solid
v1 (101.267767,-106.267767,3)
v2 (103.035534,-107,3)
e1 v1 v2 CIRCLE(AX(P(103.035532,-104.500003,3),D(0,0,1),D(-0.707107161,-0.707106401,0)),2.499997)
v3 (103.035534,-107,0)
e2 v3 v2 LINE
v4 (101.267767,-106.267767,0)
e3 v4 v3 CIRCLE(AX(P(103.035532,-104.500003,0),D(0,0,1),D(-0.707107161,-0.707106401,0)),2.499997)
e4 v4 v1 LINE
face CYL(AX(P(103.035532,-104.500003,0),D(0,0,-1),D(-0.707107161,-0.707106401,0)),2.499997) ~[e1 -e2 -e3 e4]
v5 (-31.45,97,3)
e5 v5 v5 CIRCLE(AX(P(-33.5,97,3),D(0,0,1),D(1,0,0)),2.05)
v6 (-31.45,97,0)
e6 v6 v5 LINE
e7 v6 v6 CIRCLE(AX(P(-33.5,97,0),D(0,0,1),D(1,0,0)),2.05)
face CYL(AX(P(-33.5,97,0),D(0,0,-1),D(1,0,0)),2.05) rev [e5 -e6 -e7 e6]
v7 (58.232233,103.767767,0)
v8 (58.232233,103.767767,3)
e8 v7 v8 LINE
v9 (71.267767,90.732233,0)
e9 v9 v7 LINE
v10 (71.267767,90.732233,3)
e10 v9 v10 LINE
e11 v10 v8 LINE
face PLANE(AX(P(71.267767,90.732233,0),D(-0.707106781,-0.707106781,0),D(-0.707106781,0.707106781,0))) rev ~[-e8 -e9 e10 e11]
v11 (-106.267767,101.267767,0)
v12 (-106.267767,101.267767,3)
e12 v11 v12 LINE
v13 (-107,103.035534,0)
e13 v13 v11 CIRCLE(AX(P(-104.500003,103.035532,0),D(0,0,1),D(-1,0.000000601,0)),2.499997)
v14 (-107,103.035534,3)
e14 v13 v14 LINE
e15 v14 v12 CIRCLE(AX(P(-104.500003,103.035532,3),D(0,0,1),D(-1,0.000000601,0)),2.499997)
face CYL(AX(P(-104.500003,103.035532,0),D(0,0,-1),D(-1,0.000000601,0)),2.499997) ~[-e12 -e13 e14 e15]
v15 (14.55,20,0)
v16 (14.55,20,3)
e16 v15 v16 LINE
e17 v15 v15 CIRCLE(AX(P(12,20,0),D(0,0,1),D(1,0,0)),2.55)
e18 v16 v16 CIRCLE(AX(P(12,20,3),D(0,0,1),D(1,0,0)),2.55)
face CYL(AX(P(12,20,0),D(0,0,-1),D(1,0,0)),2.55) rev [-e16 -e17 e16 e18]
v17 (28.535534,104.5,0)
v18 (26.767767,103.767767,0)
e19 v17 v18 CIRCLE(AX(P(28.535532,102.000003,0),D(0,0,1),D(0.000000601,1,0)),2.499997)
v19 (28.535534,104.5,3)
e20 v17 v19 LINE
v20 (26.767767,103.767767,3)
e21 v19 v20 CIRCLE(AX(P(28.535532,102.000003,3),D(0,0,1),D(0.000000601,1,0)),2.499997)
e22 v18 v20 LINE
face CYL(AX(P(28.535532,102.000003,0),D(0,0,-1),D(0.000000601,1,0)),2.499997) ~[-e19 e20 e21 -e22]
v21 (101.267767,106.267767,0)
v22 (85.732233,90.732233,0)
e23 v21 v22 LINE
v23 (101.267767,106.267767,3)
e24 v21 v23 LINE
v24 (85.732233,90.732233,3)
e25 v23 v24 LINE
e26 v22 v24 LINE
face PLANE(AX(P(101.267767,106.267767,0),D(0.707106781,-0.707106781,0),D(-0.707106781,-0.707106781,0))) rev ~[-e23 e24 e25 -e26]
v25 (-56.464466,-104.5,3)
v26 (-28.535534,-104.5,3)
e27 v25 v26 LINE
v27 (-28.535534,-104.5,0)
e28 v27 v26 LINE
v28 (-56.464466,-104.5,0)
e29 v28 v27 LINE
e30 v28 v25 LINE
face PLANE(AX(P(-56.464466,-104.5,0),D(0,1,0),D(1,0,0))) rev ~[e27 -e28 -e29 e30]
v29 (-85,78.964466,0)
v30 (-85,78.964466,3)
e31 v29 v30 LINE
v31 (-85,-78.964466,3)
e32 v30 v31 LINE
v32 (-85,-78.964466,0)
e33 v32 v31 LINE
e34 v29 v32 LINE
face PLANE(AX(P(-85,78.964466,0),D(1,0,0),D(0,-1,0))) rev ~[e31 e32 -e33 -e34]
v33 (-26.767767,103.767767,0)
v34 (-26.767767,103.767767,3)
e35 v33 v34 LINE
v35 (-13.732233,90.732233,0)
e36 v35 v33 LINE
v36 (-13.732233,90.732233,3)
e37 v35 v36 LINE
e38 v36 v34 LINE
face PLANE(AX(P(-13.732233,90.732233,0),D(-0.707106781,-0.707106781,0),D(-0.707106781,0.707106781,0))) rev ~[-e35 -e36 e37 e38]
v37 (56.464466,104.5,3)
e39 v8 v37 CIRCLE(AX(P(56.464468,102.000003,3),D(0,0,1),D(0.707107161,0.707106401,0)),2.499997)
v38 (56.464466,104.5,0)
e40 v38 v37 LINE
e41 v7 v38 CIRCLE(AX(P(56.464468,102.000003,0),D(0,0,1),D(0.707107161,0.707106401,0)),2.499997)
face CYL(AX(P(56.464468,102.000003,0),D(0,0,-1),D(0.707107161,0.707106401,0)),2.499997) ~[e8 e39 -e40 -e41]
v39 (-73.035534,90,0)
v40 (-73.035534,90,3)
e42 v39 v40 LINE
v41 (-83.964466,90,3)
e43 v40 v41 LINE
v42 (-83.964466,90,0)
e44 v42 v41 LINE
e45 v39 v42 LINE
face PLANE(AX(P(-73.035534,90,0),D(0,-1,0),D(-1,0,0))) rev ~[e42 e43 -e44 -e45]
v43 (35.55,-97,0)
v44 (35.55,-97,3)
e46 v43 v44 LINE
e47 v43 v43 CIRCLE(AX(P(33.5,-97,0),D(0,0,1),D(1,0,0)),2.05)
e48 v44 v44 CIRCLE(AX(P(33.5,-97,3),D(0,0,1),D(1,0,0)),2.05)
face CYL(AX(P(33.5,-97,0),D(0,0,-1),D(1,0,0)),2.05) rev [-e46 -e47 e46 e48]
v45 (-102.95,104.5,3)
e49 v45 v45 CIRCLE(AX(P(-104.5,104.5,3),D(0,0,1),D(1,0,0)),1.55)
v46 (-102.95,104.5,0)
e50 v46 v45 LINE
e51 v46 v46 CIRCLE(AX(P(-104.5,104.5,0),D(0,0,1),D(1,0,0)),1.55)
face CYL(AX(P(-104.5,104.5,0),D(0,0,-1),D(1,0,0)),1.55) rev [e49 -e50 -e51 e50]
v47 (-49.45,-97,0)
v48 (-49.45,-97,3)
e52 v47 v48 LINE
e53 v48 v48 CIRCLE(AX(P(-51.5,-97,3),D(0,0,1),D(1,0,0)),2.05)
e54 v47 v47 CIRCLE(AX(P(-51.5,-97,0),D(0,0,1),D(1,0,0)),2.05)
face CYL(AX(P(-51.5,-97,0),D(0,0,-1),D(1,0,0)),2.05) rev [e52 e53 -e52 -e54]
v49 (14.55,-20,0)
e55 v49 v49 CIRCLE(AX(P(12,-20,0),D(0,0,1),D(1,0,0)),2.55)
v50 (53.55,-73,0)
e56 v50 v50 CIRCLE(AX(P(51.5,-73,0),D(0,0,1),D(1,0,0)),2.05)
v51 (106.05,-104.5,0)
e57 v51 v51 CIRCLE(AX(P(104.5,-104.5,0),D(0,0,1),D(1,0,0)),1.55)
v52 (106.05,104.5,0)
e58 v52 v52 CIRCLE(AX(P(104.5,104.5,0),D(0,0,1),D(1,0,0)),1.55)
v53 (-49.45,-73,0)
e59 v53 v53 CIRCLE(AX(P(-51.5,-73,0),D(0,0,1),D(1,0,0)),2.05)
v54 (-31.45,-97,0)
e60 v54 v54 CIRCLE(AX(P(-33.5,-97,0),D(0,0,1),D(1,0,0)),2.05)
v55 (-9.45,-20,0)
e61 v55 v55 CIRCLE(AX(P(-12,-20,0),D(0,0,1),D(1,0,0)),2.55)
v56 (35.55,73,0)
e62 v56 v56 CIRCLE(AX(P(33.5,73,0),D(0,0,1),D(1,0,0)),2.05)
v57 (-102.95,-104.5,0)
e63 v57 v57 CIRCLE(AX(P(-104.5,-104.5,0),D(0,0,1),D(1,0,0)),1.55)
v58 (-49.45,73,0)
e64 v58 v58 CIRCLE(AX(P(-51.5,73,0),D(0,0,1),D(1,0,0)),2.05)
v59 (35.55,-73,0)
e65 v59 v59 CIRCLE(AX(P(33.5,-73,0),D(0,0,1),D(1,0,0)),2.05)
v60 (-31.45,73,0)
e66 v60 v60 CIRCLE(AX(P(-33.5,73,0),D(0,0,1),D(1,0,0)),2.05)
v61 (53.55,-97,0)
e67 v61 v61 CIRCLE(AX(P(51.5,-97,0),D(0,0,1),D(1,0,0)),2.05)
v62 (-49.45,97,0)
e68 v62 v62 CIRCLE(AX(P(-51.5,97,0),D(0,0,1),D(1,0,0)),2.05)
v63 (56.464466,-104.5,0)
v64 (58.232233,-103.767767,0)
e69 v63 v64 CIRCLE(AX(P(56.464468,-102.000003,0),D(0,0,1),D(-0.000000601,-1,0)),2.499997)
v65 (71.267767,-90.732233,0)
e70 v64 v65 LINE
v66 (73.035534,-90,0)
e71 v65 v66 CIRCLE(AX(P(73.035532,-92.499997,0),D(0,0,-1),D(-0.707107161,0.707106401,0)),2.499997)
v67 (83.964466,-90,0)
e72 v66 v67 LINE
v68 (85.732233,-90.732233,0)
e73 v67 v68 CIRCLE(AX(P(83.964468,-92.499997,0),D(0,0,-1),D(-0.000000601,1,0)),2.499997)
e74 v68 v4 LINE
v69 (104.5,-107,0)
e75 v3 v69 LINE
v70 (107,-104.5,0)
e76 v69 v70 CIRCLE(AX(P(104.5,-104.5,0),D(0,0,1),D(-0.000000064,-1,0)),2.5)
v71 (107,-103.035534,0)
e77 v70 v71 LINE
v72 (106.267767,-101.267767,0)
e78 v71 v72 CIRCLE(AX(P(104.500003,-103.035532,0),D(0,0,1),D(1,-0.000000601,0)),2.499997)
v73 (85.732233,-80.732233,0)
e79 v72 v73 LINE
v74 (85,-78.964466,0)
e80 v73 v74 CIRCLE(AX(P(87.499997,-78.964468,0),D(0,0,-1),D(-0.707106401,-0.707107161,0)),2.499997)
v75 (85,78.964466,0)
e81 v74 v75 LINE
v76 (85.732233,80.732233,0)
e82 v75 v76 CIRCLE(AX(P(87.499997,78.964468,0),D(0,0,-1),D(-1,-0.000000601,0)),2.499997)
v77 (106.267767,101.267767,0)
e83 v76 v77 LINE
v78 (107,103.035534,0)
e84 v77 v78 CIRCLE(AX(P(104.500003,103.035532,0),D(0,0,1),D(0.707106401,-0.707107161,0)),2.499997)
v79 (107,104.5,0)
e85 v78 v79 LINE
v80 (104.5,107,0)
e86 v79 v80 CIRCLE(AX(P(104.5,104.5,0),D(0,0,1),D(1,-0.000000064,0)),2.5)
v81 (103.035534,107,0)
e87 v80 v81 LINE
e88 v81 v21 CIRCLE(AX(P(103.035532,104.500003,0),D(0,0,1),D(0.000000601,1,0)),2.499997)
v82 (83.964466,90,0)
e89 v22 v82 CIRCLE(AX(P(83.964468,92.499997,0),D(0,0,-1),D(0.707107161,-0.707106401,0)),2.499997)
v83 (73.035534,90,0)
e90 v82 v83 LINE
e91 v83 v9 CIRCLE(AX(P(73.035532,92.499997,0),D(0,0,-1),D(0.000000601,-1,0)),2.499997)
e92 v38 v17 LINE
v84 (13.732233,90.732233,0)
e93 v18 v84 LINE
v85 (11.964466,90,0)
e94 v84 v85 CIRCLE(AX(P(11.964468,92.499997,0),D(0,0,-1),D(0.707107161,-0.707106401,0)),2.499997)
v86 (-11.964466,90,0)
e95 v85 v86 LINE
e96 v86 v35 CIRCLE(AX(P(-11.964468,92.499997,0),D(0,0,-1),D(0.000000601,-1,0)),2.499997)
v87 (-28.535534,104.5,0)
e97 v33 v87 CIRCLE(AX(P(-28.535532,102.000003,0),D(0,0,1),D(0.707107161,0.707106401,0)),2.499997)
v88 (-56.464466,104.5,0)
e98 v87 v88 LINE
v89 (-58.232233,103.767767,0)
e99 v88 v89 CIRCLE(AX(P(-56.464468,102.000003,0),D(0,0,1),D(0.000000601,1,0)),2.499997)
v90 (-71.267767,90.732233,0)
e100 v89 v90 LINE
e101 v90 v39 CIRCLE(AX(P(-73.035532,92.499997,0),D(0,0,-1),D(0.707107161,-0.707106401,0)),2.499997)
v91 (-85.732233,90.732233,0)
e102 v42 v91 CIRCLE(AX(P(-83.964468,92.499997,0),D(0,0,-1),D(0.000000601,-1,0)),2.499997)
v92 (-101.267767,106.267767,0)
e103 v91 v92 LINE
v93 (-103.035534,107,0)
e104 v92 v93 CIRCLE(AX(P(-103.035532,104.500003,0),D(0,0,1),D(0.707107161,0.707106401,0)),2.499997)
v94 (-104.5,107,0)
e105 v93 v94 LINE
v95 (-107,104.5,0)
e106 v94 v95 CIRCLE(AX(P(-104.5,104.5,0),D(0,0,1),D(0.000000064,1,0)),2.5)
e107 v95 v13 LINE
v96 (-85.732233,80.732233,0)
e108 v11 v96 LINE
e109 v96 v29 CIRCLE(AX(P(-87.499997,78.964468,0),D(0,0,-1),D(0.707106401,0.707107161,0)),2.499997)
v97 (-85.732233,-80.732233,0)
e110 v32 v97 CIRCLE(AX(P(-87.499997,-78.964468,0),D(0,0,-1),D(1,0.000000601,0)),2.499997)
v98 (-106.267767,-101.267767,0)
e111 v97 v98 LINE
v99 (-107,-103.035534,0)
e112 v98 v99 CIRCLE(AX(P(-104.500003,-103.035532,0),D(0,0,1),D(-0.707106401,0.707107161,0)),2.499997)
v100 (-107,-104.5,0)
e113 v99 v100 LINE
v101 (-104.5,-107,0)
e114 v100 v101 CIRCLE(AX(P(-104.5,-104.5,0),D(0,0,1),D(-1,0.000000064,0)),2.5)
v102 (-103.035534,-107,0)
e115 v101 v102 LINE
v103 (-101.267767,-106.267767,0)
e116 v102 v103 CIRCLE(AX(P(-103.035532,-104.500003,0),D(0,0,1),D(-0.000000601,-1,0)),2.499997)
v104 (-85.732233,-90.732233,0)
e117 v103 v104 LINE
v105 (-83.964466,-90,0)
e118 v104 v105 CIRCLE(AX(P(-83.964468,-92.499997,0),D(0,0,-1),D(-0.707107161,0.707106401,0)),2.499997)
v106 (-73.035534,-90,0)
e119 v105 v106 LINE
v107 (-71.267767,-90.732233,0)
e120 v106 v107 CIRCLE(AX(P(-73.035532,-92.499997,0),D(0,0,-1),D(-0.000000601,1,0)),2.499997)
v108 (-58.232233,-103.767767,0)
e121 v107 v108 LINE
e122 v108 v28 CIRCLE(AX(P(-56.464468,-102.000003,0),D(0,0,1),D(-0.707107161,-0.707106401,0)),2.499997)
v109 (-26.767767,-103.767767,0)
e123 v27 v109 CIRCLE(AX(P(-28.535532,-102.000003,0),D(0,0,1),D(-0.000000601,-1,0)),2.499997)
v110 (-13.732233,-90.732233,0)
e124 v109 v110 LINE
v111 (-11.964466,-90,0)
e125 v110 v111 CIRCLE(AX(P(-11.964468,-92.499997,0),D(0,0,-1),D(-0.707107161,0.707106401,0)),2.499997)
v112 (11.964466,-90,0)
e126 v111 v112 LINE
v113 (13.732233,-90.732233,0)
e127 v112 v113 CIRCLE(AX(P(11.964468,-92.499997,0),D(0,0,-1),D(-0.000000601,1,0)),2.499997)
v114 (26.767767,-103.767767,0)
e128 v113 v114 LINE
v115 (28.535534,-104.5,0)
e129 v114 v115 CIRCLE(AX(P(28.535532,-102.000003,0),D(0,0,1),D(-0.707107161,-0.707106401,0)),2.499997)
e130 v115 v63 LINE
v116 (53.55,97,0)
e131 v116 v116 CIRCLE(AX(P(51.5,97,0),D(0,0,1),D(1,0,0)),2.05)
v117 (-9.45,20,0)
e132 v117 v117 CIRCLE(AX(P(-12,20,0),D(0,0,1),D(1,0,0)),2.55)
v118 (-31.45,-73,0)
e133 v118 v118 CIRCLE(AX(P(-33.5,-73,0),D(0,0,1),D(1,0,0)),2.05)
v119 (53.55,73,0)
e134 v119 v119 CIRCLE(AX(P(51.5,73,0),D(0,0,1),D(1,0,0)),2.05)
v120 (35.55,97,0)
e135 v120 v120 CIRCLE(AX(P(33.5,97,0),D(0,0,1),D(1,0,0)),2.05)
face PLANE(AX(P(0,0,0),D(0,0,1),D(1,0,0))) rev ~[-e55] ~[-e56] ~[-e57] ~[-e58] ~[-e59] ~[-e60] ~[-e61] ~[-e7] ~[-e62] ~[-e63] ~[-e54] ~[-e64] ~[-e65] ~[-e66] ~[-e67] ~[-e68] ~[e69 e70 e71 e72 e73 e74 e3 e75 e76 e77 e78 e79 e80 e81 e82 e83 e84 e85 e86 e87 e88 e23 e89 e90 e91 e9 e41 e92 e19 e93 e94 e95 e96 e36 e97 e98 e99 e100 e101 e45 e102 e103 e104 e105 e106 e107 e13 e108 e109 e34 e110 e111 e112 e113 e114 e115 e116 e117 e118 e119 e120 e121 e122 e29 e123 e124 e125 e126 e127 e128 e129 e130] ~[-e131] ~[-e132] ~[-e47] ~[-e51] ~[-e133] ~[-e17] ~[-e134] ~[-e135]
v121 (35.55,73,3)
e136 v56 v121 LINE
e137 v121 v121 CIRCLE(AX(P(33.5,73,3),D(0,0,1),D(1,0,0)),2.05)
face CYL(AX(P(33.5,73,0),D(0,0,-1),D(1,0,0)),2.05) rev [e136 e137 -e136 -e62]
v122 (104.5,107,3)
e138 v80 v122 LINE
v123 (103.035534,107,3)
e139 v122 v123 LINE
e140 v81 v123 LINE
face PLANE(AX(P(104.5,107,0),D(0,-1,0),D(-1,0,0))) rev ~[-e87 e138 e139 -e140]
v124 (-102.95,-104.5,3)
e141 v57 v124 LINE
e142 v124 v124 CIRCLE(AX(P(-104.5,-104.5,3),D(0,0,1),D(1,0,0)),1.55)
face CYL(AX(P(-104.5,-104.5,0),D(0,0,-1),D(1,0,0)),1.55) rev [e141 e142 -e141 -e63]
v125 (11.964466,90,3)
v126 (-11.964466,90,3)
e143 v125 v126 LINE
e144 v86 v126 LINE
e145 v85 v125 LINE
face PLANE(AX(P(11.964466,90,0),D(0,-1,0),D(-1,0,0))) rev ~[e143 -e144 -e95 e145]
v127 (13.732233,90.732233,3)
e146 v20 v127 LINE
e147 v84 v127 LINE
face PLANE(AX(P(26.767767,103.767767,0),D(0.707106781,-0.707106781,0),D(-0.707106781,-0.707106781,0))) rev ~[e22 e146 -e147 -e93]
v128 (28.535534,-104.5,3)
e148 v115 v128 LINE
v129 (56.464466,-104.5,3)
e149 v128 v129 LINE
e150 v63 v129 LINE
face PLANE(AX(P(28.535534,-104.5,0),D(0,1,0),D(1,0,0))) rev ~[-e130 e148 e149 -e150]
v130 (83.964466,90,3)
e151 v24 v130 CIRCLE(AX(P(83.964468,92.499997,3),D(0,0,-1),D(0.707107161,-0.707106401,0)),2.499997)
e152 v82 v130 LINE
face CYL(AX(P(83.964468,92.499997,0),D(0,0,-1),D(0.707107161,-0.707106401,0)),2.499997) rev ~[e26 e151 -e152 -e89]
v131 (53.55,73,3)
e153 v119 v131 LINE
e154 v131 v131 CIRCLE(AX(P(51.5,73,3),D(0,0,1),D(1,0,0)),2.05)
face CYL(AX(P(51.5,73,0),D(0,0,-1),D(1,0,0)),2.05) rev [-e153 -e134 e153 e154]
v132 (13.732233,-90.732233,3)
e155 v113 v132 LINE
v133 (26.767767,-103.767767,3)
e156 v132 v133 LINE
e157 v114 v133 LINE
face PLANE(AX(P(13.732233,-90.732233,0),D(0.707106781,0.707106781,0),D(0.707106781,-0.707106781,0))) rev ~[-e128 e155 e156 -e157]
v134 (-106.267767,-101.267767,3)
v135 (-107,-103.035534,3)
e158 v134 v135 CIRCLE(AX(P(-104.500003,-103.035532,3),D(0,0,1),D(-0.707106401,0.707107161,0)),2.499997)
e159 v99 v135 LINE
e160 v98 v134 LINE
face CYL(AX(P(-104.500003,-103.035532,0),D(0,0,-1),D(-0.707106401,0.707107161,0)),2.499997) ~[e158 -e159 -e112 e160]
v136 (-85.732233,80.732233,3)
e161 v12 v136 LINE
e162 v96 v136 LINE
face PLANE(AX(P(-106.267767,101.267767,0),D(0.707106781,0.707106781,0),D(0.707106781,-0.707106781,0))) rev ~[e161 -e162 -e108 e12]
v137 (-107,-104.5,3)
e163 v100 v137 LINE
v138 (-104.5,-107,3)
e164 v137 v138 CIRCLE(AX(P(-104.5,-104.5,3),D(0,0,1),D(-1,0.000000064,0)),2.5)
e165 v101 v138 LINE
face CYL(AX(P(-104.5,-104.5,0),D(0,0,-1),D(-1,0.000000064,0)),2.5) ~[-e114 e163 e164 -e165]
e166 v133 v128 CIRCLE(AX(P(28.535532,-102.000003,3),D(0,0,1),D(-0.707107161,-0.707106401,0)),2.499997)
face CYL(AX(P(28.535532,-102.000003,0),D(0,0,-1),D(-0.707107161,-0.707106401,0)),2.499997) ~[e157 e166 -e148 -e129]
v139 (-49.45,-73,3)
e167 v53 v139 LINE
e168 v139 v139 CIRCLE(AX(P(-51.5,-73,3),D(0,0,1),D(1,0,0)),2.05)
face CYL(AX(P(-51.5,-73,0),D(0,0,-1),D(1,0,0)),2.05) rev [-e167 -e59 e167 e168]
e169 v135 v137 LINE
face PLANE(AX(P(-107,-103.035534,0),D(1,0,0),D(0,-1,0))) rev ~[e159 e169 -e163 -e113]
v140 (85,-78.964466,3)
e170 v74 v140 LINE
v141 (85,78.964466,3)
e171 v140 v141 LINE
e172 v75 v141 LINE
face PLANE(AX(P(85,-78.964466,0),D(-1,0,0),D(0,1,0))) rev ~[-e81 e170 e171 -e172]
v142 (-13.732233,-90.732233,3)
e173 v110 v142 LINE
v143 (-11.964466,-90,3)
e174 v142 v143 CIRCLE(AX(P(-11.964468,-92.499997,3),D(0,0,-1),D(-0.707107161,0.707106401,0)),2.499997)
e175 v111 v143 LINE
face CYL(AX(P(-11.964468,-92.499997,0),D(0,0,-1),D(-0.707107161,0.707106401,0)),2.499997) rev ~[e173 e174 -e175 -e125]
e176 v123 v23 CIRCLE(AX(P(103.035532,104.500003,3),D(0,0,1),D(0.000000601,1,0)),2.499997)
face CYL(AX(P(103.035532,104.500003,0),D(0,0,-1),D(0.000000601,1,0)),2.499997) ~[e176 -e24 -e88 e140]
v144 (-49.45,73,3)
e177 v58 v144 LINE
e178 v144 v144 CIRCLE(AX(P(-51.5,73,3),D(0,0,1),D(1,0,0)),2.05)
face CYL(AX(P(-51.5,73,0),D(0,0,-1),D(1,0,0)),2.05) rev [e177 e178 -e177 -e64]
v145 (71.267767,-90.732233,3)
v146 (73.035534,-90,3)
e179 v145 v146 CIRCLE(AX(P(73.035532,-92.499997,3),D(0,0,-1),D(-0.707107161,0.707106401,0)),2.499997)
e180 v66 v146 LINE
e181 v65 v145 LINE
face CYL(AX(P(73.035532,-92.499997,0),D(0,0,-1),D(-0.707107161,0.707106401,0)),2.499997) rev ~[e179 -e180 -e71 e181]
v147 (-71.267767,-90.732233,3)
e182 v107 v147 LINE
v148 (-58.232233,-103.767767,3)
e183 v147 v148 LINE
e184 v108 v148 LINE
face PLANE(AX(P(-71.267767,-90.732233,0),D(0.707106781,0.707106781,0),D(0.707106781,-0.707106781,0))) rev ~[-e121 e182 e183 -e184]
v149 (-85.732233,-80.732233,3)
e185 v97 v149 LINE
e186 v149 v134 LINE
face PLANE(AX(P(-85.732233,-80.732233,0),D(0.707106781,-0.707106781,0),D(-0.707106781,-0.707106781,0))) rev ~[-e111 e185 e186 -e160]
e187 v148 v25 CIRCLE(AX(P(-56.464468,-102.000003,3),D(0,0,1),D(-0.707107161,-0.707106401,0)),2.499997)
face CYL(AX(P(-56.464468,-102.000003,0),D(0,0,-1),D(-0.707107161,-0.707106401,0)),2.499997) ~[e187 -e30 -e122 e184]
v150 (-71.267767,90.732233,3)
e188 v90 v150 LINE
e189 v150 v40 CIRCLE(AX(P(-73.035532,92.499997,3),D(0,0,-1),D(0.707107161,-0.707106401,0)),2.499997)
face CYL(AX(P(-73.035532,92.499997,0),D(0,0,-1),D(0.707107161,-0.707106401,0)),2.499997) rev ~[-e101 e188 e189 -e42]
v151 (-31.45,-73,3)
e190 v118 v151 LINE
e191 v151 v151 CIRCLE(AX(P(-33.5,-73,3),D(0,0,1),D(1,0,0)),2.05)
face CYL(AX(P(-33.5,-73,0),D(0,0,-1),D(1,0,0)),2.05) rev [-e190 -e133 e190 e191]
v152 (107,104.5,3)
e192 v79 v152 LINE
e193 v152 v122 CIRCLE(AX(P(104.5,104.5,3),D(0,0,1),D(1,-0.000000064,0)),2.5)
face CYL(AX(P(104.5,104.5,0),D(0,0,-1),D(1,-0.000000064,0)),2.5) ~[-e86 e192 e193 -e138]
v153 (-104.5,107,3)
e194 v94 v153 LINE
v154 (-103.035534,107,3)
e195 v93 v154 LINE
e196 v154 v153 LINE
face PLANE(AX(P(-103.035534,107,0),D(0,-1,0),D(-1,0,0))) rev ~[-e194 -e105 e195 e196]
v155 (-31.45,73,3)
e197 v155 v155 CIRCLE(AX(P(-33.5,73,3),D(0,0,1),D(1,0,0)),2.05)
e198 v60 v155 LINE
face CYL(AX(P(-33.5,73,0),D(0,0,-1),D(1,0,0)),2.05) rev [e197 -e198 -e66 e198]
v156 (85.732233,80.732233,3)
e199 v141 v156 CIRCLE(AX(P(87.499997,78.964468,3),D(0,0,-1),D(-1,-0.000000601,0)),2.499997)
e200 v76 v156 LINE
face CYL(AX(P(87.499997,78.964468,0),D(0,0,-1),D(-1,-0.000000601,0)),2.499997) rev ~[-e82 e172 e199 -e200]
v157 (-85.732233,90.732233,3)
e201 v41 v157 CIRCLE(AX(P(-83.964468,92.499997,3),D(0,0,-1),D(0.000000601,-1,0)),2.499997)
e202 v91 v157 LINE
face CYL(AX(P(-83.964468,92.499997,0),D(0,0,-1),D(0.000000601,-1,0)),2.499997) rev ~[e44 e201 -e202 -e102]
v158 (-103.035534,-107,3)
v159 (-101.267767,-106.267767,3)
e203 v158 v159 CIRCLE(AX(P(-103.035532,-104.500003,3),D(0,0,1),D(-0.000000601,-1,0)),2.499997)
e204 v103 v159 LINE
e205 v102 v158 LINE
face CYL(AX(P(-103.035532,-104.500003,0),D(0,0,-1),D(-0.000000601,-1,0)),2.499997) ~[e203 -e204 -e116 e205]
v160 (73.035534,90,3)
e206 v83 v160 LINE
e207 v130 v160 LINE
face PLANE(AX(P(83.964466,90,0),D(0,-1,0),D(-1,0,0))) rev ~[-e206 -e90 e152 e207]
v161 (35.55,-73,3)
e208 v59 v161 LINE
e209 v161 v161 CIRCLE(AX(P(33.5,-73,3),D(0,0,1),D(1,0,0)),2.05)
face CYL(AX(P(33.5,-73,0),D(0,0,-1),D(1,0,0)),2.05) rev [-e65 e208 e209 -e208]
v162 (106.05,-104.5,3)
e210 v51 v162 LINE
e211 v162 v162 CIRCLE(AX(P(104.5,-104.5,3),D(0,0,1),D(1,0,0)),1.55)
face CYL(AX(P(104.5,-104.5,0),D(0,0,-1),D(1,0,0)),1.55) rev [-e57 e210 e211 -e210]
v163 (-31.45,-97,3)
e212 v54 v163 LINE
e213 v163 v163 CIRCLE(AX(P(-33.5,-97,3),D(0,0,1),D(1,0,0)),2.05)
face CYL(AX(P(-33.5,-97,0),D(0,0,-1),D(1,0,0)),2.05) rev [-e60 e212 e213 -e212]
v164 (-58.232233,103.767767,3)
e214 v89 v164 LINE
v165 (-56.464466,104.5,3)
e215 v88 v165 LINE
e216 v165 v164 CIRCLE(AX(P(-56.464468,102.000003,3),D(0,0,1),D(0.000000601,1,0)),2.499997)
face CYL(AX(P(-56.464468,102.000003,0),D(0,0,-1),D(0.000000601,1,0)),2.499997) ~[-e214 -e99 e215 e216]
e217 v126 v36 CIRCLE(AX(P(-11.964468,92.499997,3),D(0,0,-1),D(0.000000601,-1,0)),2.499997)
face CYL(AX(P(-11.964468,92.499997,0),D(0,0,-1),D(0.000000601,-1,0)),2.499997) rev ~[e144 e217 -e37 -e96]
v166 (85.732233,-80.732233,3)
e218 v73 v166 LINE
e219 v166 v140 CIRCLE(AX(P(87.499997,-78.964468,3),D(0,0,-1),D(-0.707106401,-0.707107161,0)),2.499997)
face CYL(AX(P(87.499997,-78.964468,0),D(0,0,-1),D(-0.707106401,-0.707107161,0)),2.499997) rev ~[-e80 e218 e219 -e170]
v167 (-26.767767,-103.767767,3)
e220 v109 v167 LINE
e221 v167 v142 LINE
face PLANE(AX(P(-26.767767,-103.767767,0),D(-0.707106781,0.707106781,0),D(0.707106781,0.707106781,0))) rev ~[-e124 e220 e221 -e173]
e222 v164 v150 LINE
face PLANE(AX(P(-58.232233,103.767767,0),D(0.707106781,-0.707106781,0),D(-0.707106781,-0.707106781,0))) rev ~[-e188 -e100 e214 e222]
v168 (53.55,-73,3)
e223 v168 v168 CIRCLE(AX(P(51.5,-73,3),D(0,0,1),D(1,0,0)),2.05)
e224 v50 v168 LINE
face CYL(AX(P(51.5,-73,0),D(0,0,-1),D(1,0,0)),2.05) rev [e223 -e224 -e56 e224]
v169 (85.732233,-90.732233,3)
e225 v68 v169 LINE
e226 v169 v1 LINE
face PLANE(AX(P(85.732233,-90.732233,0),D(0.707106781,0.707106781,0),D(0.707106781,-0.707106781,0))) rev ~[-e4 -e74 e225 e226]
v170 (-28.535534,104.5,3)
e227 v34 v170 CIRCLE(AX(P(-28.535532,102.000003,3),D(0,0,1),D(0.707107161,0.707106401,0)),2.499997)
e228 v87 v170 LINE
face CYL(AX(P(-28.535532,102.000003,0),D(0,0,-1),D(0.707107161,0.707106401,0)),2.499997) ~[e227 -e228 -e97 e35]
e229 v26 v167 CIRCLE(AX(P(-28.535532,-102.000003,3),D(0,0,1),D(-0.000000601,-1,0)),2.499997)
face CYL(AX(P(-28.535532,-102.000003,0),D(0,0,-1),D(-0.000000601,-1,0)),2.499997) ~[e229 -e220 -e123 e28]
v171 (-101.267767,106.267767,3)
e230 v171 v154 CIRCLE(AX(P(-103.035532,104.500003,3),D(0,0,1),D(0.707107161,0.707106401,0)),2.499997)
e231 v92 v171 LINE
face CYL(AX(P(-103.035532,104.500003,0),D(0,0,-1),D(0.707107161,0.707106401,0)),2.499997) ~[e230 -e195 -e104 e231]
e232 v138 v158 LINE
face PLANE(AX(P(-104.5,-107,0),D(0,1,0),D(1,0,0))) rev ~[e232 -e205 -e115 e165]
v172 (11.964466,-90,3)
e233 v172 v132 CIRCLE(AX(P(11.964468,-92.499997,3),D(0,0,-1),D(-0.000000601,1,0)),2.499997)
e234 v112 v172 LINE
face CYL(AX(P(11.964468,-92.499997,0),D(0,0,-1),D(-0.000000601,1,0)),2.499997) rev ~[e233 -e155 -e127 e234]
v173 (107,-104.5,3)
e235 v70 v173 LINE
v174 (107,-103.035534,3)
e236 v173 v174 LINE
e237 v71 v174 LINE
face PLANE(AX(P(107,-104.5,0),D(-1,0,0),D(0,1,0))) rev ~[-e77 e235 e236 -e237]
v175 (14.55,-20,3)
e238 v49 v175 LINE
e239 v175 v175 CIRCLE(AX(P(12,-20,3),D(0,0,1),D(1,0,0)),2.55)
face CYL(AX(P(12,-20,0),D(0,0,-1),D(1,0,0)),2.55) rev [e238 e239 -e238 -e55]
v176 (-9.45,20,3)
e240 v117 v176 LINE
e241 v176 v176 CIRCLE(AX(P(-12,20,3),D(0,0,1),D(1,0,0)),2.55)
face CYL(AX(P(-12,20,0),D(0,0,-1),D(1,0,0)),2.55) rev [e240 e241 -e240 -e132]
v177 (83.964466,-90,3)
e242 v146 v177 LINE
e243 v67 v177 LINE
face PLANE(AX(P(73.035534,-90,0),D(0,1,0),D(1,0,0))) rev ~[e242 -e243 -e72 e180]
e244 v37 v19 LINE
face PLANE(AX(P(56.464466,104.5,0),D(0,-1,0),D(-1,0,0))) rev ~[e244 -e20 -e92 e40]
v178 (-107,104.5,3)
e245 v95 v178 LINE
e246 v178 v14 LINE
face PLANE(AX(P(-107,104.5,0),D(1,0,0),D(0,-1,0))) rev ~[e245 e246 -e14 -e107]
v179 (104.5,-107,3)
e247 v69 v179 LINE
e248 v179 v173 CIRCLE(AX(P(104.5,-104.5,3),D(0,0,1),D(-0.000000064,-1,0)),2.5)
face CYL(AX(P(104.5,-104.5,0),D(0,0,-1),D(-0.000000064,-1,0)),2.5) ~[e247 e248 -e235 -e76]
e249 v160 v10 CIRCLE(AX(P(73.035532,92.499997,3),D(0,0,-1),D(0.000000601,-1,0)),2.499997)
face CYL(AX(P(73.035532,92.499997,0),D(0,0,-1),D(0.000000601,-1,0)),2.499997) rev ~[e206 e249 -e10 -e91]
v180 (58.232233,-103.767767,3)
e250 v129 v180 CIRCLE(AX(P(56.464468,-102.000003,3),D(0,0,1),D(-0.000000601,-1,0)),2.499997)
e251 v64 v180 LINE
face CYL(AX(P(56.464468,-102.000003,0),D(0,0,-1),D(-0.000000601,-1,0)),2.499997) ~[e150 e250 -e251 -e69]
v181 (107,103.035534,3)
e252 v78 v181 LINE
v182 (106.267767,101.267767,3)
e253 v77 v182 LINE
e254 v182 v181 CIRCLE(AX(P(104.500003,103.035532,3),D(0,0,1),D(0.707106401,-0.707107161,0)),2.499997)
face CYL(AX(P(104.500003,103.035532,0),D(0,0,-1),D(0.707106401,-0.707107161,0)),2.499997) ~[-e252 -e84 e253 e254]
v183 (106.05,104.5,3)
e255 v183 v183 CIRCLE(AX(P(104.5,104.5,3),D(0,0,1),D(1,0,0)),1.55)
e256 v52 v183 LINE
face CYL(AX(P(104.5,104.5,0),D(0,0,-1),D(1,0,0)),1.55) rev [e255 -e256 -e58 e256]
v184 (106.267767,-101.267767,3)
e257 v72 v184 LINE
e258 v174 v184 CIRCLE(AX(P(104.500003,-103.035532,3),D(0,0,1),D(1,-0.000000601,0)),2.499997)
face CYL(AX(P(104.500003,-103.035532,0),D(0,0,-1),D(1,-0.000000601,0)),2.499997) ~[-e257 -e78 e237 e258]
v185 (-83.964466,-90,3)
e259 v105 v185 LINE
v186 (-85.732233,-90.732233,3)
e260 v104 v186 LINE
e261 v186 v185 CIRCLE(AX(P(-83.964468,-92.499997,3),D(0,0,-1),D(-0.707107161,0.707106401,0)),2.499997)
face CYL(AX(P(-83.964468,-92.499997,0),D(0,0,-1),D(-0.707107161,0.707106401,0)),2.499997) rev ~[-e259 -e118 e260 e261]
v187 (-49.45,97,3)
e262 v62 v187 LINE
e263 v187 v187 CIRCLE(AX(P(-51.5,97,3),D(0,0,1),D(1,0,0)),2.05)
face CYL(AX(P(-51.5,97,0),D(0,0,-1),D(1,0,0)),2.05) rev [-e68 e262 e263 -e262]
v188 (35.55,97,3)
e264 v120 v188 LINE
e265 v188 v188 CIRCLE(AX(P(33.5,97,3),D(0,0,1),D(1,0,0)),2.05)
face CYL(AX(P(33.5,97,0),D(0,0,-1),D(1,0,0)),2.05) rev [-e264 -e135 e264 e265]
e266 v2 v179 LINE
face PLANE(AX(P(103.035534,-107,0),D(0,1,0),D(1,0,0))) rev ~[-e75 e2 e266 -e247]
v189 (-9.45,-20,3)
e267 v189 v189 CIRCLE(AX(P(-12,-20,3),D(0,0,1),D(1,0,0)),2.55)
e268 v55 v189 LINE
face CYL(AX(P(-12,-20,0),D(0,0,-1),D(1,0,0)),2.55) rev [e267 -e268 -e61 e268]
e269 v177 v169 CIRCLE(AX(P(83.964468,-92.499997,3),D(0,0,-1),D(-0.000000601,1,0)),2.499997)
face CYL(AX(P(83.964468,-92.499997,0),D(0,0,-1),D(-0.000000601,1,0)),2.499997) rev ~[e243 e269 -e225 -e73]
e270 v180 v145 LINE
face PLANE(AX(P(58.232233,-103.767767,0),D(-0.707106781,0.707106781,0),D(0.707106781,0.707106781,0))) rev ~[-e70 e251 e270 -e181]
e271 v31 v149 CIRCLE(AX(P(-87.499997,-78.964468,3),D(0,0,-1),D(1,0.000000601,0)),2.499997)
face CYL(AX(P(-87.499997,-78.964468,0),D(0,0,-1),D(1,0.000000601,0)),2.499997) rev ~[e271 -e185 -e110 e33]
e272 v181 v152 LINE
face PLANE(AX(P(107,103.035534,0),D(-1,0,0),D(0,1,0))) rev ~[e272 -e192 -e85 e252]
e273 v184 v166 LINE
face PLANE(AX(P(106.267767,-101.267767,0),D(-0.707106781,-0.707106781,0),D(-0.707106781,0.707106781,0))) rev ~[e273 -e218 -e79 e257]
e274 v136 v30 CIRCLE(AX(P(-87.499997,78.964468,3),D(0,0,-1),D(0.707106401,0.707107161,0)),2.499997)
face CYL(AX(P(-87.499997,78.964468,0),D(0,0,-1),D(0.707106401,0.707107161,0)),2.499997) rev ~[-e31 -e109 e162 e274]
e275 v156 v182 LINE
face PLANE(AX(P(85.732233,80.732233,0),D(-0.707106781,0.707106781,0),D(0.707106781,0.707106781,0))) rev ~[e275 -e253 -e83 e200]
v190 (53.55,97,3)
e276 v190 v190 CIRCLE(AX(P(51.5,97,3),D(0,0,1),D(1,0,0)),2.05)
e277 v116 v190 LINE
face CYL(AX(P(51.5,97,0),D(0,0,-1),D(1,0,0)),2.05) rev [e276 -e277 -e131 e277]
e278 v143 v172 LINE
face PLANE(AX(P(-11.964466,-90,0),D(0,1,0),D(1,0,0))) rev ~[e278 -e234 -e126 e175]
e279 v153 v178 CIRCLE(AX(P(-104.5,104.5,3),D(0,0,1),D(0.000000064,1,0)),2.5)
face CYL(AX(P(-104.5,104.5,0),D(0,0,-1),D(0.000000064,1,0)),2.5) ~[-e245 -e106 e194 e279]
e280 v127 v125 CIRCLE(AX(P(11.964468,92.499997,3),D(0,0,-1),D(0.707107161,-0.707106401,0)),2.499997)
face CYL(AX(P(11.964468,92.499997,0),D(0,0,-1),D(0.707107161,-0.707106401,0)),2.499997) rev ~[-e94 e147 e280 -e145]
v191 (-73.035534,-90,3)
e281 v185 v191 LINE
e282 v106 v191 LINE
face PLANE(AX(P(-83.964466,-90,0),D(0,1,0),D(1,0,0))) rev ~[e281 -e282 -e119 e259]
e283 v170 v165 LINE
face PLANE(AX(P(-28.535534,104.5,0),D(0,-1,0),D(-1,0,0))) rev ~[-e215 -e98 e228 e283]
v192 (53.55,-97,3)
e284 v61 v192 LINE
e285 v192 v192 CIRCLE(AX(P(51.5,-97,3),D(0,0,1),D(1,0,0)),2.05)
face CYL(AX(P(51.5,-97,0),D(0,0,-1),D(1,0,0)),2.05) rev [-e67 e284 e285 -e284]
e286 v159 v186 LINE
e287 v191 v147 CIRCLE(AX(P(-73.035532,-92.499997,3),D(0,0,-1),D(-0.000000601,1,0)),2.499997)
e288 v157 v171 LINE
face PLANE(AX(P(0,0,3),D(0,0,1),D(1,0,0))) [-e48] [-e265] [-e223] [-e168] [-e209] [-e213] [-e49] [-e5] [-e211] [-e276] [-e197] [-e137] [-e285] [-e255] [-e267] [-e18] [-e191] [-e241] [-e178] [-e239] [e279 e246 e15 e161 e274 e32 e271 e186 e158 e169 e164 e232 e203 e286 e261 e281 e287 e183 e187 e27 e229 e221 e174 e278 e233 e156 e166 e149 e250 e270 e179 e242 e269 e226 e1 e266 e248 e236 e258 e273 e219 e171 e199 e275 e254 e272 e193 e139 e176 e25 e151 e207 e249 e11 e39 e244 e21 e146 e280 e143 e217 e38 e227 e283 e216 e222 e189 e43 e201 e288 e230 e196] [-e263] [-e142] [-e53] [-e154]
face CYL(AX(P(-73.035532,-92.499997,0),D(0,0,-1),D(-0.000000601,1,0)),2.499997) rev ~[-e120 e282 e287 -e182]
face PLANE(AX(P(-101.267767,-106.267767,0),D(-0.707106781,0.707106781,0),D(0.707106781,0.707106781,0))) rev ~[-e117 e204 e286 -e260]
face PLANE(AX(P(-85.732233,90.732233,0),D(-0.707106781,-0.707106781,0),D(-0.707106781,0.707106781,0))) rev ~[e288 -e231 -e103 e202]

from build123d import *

# Parameters (mm, degrees)
F0_R     = 1.55
F0_R_2   = 2.05
F0_R_3   = 2.55
F1_DEPTH = 3


with BuildPart() as f1:
    # F0 (on Top) → F1 (new body)
    with BuildSketch(Plane.XY):
        with BuildLine():
            Line((-103.035534, 107), (-104.5, 107))
            ThreePointArc((-104.5, 107), (-106.267767, 106.267767), (-107, 104.5))
            Line((-107, 104.5), (-107, 103.035534))
            ThreePointArc((-107, 103.035534), (-106.809699, 102.078825), (-106.267767, 101.267767))
            Line((-106.267767, 101.267767), (-85.732233, 80.732233))
            ThreePointArc((-85.732233, 80.732233), (-85.190301, 79.921175), (-85, 78.964466))
            Line((-85, 78.964466), (-85, -78.964466))
            ThreePointArc((-85, -78.964466), (-85.190301, -79.921175), (-85.732233, -80.732233))
            Line((-85.732233, -80.732233), (-106.267767, -101.267767))
            ThreePointArc((-106.267767, -101.267767), (-106.809699, -102.078825), (-107, -103.035534))
            Line((-107, -103.035534), (-107, -104.5))
            ThreePointArc((-107, -104.5), (-106.267767, -106.267767), (-104.5, -107))
            Line((-104.5, -107), (-103.035534, -107))
            ThreePointArc((-103.035534, -107), (-102.078825, -106.809699), (-101.267767, -106.267767))
            Line((-101.267767, -106.267767), (-85.732233, -90.732233))
            ThreePointArc((-85.732233, -90.732233), (-84.921175, -90.190301), (-83.964466, -90))
            Line((-83.964466, -90), (-73.035534, -90))
            ThreePointArc((-73.035534, -90), (-72.078825, -90.190301), (-71.267767, -90.732233))
            Line((-71.267767, -90.732233), (-58.232233, -103.767767))
            ThreePointArc((-58.232233, -103.767767), (-57.421175, -104.309699), (-56.464466, -104.5))
            Line((-56.464466, -104.5), (-28.535534, -104.5))
            ThreePointArc((-28.535534, -104.5), (-27.578825, -104.309699), (-26.767767, -103.767767))
            Line((-26.767767, -103.767767), (-13.732233, -90.732233))
            ThreePointArc((-13.732233, -90.732233), (-12.921175, -90.190301), (-11.964466, -90))
            Line((-11.964466, -90), (11.964466, -90))
            ThreePointArc((11.964466, -90), (12.921175, -90.190301), (13.732233, -90.732233))
            Line((13.732233, -90.732233), (26.767767, -103.767767))
            ThreePointArc((26.767767, -103.767767), (27.578825, -104.309699), (28.535534, -104.5))
            Line((28.535534, -104.5), (56.464466, -104.5))
            ThreePointArc((56.464466, -104.5), (57.421175, -104.309699), (58.232233, -103.767767))
            Line((58.232233, -103.767767), (71.267767, -90.732233))
            ThreePointArc((71.267767, -90.732233), (72.078825, -90.190301), (73.035534, -90))
            Line((73.035534, -90), (83.964466, -90))
            ThreePointArc((83.964466, -90), (84.921175, -90.190301), (85.732233, -90.732233))
            Line((85.732233, -90.732233), (101.267767, -106.267767))
            ThreePointArc((101.267767, -106.267767), (102.078825, -106.809699), (103.035534, -107))
            Line((103.035534, -107), (104.5, -107))
            ThreePointArc((104.5, -107), (106.267767, -106.267767), (107, -104.5))
            Line((107, -104.5), (107, -103.035534))
            ThreePointArc((107, -103.035534), (106.809699, -102.078825), (106.267767, -101.267767))
            Line((106.267767, -101.267767), (85.732233, -80.732233))
            ThreePointArc((85.732233, -80.732233), (85.190301, -79.921175), (85, -78.964466))
            Line((85, -78.964466), (85, 78.964466))
            ThreePointArc((85, 78.964466), (85.190301, 79.921175), (85.732233, 80.732233))
            Line((85.732233, 80.732233), (106.267767, 101.267767))
            ThreePointArc((106.267767, 101.267767), (106.809699, 102.078825), (107, 103.035534))
            Line((107, 103.035534), (107, 104.5))
            ThreePointArc((107, 104.5), (106.267767, 106.267767), (104.5, 107))
            Line((104.5, 107), (103.035534, 107))
            ThreePointArc((103.035534, 107), (102.078825, 106.809699), (101.267767, 106.267767))
            Line((101.267767, 106.267767), (85.732233, 90.732233))
            ThreePointArc((85.732233, 90.732233), (84.921175, 90.190301), (83.964466, 90))
            Line((83.964466, 90), (73.035534, 90))
            ThreePointArc((73.035534, 90), (72.078825, 90.190301), (71.267767, 90.732233))
            Line((71.267767, 90.732233), (58.232233, 103.767767))
            ThreePointArc((58.232233, 103.767767), (57.421175, 104.309699), (56.464466, 104.5))
            Line((56.464466, 104.5), (28.535534, 104.5))
            ThreePointArc((28.535534, 104.5), (27.578825, 104.309699), (26.767767, 103.767767))
            Line((26.767767, 103.767767), (13.732233, 90.732233))
            ThreePointArc((13.732233, 90.732233), (12.921175, 90.190301), (11.964466, 90))
            Line((11.964466, 90), (-11.964466, 90))
            ThreePointArc((-11.964466, 90), (-12.921175, 90.190301), (-13.732233, 90.732233))
            Line((-13.732233, 90.732233), (-26.767767, 103.767767))
            ThreePointArc((-26.767767, 103.767767), (-27.578825, 104.309699), (-28.535534, 104.5))
            Line((-28.535534, 104.5), (-56.464466, 104.5))
            ThreePointArc((-56.464466, 104.5), (-57.421175, 104.309699), (-58.232233, 103.767767))
            Line((-58.232233, 103.767767), (-71.267767, 90.732233))
            ThreePointArc((-71.267767, 90.732233), (-72.078825, 90.190301), (-73.035534, 90))
            Line((-73.035534, 90), (-83.964466, 90))
            ThreePointArc((-83.964466, 90), (-84.921175, 90.190301), (-85.732233, 90.732233))
            Line((-85.732233, 90.732233), (-101.267767, 106.267767))
            ThreePointArc((-101.267767, 106.267767), (-102.078825, 106.809699), (-103.035534, 107))
        make_face()
        with Locations((-104.5, -104.5)):
            Circle(F0_R, mode=Mode.SUBTRACT)
        with Locations((-51.5, -97)):
            Circle(F0_R_2, mode=Mode.SUBTRACT)
        with Locations((-33.5, -97)):
            Circle(F0_R_2, mode=Mode.SUBTRACT)
        with Locations((-51.5, -73)):
            Circle(F0_R_2, mode=Mode.SUBTRACT)
        with Locations((-33.5, -73)):
            Circle(F0_R_2, mode=Mode.SUBTRACT)
        with Locations((-12, -20)):
            Circle(F0_R_3, mode=Mode.SUBTRACT)
        with Locations((33.5, -97)):
            Circle(F0_R_2, mode=Mode.SUBTRACT)
        with Locations((51.5, -97)):
            Circle(F0_R_2, mode=Mode.SUBTRACT)
        with Locations((33.5, -73)):
            Circle(F0_R_2, mode=Mode.SUBTRACT)
        with Locations((51.5, -73)):
            Circle(F0_R_2, mode=Mode.SUBTRACT)
        with Locations((104.5, -104.5)):
            Circle(F0_R, mode=Mode.SUBTRACT)
        with Locations((12, -20)):
            Circle(F0_R_3, mode=Mode.SUBTRACT)
        with Locations((-12, 20)):
            Circle(F0_R_3, mode=Mode.SUBTRACT)
        with Locations((-104.5, 104.5)):
            Circle(F0_R, mode=Mode.SUBTRACT)
        with Locations((-51.5, 73)):
            Circle(F0_R_2, mode=Mode.SUBTRACT)
        with Locations((-33.5, 73)):
            Circle(F0_R_2, mode=Mode.SUBTRACT)
        with Locations((-51.5, 97)):
            Circle(F0_R_2, mode=Mode.SUBTRACT)
        with Locations((-33.5, 97)):
            Circle(F0_R_2, mode=Mode.SUBTRACT)
        with Locations((12, 20)):
            Circle(F0_R_3, mode=Mode.SUBTRACT)
        with Locations((33.5, 73)):
            Circle(F0_R_2, mode=Mode.SUBTRACT)
        with Locations((51.5, 73)):
            Circle(F0_R_2, mode=Mode.SUBTRACT)
        with Locations((33.5, 97)):
            Circle(F0_R_2, mode=Mode.SUBTRACT)
        with Locations((51.5, 97)):
            Circle(F0_R_2, mode=Mode.SUBTRACT)
        with Locations((104.5, 104.5)):
            Circle(F0_R, mode=Mode.SUBTRACT)
    extrude(amount=F1_DEPTH)


solid = f1.part
